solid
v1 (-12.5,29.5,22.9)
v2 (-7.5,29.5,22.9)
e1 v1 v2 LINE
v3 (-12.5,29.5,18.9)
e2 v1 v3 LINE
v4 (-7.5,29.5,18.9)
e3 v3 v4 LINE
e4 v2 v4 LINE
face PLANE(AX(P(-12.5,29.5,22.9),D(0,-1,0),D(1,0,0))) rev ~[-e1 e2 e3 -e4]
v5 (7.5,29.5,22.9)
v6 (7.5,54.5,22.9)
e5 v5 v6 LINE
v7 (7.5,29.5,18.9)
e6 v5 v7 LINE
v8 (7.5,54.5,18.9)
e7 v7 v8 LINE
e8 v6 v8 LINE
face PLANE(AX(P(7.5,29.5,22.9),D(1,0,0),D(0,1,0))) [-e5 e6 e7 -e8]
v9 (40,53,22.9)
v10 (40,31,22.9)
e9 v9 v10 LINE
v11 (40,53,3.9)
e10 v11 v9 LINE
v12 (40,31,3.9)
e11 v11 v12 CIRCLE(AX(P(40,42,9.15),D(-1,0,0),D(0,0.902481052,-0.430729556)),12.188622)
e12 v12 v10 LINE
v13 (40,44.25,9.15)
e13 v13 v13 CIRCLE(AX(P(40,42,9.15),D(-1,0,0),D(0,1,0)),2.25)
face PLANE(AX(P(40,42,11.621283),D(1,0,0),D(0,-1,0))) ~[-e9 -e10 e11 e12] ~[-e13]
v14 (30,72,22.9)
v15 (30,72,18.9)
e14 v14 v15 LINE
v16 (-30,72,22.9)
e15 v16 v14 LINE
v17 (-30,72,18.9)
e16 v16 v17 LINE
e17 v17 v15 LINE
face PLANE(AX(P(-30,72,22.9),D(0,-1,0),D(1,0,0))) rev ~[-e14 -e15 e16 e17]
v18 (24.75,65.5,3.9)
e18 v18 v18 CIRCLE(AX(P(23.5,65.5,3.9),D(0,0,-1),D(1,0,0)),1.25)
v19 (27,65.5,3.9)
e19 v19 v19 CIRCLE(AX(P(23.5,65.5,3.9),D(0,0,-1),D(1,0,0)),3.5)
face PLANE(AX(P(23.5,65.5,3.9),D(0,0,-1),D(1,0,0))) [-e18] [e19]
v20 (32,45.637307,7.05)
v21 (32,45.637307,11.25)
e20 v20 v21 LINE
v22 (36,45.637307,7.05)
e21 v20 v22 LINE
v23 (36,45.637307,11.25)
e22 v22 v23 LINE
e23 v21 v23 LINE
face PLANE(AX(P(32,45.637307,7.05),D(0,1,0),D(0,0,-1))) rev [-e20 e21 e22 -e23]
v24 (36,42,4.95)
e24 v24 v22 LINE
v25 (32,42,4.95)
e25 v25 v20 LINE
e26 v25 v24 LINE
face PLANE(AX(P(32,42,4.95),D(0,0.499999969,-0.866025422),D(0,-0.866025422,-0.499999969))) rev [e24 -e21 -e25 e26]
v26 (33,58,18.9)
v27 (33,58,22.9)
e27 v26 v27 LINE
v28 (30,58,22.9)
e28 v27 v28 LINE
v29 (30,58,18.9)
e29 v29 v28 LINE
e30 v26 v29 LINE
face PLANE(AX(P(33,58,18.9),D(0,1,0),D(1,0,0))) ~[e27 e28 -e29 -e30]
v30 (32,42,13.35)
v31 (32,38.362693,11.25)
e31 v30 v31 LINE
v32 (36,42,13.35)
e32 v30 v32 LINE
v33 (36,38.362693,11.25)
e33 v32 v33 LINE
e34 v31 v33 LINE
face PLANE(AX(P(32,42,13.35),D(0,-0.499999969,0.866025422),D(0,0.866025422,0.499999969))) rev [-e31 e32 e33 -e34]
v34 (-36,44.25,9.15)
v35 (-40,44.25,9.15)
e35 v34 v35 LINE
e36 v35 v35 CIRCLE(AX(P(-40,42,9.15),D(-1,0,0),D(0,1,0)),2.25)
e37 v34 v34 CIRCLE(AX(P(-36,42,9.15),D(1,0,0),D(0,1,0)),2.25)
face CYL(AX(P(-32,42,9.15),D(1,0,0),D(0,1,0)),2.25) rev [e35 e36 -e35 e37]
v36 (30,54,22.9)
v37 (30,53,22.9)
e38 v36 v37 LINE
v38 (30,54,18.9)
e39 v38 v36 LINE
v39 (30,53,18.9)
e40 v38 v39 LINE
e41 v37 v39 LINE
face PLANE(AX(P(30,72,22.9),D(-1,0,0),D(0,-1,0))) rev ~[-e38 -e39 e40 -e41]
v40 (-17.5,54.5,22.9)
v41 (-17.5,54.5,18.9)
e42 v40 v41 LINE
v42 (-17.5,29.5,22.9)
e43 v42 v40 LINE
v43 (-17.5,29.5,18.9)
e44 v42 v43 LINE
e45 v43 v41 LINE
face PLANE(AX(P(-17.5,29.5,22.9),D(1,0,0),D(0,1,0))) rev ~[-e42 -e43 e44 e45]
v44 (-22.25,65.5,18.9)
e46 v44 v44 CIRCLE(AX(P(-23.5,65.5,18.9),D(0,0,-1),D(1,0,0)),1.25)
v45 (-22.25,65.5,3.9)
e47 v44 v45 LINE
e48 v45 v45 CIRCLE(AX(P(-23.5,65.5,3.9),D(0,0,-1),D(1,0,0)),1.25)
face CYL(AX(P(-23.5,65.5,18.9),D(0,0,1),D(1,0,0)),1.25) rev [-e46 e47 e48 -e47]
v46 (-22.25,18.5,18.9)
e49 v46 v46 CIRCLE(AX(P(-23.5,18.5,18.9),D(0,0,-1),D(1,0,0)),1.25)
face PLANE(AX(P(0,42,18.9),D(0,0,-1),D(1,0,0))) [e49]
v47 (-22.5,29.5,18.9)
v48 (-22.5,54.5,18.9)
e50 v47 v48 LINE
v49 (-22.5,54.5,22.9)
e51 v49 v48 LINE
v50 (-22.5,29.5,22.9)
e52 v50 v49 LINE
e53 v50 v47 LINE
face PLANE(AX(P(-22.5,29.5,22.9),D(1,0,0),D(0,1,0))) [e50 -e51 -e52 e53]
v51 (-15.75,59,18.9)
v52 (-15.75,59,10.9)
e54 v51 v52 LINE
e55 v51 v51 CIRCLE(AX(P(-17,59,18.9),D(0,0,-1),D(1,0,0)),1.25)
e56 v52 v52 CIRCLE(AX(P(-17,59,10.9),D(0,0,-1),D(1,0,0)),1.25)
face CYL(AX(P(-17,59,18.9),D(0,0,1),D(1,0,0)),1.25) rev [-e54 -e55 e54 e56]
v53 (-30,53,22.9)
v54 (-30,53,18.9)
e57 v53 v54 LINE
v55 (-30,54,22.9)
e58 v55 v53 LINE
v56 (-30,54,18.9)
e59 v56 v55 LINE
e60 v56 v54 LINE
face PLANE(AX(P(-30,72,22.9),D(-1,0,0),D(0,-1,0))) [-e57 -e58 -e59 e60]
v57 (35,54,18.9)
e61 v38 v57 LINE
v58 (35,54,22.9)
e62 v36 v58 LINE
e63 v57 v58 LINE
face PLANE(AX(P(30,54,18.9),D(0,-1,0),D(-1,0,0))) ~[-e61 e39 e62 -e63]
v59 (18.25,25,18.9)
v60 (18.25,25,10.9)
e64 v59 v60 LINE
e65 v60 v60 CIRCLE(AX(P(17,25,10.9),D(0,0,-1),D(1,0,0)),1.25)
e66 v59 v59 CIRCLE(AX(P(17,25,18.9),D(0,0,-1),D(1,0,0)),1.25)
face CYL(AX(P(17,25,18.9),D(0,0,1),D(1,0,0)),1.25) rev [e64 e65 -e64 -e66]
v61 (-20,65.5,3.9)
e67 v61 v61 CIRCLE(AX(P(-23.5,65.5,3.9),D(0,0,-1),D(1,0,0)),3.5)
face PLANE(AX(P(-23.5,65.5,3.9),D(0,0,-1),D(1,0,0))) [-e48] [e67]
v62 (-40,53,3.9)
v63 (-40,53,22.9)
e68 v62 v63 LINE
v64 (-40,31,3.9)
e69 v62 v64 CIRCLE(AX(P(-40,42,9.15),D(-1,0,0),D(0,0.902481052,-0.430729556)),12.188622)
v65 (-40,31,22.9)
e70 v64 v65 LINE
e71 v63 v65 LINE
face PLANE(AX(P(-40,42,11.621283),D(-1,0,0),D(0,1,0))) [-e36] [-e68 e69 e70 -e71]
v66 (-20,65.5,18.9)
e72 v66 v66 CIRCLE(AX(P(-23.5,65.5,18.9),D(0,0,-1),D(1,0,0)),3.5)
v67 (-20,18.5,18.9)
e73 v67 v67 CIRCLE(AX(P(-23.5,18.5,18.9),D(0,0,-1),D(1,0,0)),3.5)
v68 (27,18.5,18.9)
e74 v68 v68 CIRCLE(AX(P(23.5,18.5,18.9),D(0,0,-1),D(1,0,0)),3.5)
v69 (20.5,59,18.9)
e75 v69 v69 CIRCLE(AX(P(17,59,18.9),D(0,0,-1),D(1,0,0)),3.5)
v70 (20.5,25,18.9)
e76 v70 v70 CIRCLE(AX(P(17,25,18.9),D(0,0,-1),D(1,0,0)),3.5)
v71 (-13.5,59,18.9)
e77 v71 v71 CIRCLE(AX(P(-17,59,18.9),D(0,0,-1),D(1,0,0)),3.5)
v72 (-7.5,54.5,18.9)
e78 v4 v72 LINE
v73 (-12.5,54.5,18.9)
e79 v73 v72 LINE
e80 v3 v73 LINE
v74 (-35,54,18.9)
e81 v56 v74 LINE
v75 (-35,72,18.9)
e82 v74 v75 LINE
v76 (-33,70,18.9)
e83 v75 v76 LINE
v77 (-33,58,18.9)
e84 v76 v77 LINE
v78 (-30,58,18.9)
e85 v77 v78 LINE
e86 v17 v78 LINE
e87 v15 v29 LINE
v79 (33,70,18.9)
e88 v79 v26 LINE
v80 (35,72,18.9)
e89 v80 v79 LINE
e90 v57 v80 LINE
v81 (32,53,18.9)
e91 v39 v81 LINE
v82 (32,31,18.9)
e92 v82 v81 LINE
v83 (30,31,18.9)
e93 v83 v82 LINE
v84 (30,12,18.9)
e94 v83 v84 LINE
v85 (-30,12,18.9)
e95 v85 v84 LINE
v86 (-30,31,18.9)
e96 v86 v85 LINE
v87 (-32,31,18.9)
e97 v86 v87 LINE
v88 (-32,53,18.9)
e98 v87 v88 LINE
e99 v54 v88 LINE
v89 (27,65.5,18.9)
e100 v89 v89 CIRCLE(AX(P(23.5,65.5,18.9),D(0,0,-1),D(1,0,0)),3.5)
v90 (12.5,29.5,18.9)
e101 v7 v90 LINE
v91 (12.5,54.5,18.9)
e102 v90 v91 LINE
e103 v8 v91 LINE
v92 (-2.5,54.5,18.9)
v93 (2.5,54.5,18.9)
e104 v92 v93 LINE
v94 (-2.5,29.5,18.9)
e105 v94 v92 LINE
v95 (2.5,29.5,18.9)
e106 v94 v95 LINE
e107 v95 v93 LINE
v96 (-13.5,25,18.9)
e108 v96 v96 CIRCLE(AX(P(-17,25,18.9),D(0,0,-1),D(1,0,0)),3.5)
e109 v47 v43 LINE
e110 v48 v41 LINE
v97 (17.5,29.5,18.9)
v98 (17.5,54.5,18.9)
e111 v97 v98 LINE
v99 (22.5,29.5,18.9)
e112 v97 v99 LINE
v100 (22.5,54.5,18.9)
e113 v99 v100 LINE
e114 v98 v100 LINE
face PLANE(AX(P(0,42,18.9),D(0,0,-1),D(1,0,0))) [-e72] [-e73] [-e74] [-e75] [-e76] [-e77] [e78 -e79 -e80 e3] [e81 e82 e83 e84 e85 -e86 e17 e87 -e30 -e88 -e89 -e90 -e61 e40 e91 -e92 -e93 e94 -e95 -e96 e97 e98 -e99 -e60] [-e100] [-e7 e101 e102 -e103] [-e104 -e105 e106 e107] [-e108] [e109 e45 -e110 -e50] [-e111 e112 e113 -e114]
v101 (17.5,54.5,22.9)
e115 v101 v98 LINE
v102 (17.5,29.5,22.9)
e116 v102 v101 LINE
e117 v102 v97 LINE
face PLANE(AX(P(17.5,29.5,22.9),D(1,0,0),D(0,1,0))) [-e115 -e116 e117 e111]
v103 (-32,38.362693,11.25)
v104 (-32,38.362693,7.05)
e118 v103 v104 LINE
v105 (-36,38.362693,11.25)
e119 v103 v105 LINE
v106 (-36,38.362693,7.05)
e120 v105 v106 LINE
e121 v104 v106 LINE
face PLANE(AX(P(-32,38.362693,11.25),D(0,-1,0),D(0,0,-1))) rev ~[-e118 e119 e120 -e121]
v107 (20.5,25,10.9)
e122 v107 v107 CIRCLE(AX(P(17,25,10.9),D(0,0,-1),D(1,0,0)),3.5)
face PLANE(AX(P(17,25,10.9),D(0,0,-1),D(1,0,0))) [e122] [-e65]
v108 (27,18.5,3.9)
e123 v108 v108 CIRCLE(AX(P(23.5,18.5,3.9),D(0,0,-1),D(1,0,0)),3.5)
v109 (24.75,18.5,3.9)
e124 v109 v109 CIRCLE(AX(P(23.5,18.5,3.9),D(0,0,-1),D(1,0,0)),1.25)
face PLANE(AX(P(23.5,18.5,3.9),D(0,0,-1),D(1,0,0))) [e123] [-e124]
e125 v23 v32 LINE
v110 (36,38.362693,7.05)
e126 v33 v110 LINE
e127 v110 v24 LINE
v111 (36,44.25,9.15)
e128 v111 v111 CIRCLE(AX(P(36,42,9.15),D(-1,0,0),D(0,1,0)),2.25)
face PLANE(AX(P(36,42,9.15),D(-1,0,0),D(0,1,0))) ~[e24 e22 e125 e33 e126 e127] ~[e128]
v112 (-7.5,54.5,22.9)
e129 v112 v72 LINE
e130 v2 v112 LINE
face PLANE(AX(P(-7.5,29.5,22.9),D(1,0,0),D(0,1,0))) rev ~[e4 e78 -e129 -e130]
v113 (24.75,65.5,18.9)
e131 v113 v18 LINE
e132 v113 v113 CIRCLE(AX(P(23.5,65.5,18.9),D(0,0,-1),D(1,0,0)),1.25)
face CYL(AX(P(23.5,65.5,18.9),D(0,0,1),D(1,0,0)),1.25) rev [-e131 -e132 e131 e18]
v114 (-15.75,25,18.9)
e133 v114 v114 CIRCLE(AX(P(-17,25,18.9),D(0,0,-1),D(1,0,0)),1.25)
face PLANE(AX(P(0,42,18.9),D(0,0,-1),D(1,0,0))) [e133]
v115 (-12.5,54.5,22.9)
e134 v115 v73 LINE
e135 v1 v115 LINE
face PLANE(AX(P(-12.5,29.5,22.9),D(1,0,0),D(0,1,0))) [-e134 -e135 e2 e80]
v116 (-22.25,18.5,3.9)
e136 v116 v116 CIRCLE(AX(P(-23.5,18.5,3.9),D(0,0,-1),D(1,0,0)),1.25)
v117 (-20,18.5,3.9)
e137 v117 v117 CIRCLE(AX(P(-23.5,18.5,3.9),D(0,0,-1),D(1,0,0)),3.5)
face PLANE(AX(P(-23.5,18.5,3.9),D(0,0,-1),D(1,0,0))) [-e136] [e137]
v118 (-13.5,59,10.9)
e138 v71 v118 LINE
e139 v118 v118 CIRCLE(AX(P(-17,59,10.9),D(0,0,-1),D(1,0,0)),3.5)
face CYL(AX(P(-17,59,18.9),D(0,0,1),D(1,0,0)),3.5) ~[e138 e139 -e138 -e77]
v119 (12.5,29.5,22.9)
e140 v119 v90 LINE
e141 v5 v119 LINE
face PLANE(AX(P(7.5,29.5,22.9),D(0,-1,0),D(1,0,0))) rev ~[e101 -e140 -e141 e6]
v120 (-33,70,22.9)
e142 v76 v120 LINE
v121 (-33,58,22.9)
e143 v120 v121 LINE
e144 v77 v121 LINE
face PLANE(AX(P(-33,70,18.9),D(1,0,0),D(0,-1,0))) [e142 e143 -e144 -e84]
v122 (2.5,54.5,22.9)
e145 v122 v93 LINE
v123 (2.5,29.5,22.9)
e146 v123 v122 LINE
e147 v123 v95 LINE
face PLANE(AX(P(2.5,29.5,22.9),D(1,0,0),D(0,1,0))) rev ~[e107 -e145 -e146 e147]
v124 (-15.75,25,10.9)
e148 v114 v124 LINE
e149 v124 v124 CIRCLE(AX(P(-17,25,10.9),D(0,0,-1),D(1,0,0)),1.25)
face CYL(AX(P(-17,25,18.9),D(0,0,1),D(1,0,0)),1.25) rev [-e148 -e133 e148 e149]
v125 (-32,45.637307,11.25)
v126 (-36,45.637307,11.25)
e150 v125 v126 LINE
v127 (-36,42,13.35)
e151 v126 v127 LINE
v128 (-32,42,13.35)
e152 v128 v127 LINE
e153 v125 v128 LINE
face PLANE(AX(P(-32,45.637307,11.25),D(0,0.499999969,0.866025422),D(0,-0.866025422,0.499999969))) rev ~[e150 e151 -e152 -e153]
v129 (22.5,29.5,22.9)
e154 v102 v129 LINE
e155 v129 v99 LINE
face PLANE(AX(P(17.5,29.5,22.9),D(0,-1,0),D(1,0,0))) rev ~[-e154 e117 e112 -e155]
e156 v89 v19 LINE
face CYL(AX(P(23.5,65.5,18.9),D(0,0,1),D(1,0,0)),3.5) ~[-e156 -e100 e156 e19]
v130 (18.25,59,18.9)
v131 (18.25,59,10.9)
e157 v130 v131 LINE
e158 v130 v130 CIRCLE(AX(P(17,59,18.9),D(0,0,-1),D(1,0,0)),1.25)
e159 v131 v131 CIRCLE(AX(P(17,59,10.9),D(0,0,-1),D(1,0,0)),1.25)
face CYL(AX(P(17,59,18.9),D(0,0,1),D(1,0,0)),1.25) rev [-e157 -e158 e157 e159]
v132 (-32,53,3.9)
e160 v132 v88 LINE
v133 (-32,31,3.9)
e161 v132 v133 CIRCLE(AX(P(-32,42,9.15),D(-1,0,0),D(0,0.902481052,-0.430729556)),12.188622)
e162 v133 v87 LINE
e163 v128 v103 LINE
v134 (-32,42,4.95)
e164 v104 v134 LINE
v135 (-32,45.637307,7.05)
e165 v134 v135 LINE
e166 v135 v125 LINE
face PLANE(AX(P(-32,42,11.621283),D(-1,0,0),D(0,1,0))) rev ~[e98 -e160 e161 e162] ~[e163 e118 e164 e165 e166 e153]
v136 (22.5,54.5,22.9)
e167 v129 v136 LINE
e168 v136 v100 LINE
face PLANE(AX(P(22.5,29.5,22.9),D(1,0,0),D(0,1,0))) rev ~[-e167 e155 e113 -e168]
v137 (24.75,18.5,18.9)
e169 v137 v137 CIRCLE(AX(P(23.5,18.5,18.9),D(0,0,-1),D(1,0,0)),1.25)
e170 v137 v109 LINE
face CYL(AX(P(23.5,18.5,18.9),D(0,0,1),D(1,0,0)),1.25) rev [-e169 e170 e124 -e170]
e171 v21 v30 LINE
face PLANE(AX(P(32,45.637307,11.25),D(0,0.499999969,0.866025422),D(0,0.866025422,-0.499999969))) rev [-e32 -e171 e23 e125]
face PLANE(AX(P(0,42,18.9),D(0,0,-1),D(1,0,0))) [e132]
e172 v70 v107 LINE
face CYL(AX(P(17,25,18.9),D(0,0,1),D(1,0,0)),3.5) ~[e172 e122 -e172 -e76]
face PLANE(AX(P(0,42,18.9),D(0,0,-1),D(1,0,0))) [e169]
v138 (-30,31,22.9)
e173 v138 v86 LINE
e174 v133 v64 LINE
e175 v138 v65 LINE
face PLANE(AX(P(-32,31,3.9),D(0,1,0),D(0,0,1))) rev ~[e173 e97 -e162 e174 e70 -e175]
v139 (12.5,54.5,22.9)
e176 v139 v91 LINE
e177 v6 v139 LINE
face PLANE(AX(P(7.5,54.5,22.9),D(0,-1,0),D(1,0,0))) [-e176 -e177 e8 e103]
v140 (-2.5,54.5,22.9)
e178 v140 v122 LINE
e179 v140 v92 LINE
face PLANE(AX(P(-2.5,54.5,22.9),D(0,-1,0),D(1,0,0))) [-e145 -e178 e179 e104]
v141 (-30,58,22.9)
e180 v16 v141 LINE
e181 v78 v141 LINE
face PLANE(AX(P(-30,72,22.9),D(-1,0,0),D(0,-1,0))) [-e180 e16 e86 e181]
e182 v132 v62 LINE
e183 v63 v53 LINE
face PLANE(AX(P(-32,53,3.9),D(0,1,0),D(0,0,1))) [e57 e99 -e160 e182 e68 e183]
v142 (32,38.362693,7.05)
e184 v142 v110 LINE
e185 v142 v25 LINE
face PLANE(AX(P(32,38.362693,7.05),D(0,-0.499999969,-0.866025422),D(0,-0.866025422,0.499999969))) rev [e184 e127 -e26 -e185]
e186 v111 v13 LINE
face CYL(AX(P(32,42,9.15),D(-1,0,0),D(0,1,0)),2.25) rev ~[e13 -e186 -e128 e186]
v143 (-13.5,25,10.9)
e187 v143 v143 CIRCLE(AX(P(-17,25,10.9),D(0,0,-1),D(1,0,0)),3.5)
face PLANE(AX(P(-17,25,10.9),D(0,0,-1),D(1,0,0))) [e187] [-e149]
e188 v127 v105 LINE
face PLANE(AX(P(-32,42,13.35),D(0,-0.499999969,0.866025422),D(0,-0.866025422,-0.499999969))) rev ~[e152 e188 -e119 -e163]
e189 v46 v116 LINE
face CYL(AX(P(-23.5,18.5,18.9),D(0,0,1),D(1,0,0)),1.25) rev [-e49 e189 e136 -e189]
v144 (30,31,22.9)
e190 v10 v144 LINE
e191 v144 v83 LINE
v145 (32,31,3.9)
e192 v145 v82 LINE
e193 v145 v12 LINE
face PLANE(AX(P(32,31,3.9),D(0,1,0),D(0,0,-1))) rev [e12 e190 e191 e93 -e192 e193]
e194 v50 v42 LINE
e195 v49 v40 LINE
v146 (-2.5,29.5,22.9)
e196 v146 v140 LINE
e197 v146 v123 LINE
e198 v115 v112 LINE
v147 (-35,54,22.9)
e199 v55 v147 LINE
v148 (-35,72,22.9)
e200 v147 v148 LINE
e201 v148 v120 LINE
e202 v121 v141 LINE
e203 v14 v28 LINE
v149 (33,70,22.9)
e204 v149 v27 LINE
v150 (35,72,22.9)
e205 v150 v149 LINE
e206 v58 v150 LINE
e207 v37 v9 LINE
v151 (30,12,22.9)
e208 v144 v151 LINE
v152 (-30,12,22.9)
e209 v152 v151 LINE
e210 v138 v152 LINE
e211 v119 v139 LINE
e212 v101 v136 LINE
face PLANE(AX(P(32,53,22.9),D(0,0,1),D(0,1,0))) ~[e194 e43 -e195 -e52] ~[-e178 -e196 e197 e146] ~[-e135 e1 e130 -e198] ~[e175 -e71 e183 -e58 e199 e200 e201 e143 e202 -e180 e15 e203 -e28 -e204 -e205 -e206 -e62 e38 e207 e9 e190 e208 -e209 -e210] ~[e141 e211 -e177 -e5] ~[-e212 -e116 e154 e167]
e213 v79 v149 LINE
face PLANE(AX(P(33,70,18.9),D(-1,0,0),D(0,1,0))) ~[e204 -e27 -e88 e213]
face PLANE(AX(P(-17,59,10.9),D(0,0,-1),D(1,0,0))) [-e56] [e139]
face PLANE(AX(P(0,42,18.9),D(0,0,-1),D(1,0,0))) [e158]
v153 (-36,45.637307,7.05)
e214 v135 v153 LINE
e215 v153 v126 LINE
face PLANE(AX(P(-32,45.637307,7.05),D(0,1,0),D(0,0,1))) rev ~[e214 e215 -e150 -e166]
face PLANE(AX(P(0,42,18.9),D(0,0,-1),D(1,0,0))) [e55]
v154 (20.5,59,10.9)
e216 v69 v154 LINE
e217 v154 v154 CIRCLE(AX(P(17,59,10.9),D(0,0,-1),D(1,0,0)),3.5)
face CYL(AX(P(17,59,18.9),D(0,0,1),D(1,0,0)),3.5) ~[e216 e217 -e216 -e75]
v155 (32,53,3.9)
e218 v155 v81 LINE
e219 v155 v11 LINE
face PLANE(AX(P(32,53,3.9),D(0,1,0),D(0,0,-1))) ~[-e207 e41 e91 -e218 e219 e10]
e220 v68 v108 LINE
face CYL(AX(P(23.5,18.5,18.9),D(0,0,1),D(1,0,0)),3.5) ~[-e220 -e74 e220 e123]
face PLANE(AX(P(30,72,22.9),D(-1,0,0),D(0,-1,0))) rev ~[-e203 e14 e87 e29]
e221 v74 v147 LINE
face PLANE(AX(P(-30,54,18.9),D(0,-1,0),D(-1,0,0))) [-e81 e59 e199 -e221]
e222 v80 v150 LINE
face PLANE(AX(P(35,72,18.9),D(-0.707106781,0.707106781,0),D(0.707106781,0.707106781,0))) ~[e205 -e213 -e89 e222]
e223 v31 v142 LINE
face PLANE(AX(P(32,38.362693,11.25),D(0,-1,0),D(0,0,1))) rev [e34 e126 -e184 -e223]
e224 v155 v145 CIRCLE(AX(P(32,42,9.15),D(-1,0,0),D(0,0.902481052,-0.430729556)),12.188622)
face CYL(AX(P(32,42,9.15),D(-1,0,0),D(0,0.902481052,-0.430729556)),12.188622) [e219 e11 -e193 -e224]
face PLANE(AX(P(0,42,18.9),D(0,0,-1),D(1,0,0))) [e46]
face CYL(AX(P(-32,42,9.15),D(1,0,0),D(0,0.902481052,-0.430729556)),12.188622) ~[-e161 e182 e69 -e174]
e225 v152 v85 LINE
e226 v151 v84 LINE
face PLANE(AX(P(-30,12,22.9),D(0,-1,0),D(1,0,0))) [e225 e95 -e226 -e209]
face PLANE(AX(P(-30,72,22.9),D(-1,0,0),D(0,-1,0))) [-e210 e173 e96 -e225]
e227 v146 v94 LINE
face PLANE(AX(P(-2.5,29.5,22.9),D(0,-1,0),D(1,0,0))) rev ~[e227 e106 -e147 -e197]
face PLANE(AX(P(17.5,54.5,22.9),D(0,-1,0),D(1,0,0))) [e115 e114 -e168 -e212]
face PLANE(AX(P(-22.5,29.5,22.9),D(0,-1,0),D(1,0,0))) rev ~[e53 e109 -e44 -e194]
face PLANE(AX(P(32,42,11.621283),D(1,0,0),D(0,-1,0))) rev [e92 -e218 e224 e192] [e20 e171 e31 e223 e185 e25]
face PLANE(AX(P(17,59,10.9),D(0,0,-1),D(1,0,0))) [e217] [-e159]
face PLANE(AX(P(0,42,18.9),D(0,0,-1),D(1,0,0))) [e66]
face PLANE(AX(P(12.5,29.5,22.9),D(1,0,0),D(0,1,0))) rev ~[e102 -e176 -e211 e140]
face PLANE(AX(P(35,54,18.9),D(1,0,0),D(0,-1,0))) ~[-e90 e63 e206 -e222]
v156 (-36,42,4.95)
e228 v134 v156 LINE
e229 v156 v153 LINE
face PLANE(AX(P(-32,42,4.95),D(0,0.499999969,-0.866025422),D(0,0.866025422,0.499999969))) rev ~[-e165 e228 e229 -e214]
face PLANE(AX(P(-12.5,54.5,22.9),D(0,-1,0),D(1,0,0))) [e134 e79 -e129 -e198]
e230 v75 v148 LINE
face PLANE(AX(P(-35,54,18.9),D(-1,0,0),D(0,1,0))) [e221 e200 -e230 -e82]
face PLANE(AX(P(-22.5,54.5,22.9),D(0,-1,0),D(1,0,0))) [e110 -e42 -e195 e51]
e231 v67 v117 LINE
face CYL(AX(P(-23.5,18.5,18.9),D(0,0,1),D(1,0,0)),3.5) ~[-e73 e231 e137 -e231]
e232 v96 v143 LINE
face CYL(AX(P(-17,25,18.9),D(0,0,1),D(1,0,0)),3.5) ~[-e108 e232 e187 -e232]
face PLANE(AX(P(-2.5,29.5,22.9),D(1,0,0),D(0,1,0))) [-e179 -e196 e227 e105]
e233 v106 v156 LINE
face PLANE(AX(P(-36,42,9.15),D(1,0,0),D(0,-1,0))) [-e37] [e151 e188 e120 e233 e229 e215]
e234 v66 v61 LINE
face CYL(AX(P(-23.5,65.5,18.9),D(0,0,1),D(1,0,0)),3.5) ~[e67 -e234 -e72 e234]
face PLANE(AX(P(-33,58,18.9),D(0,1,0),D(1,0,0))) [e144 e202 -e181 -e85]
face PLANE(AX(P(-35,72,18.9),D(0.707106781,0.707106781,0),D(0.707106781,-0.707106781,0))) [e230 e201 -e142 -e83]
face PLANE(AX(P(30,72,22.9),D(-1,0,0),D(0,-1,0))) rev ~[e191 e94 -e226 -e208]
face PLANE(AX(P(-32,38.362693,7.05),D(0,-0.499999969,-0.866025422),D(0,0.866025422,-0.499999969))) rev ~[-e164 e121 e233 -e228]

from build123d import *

# Parameters (mm, degrees)
SKETCH_W             = 60
SKETCH_H             = 60
PAD_DEPTH            = 4
SKETCH001_R          = 3.5
SKETCH001_R_2        = 1.25
PAD001_DEPTH         = 8
SKETCH009_W          = 5
SKETCH009_H          = 25
POCKET008_DEPTH      = 4
PAD006_DEPTH         = 4
SKETCH015_W          = 22
SKETCH015_H          = 4
PAD007_DEPTH         = 2
SKETCH003_R          = 2.25
PAD008_DEPTH         = 8
SKETCH014_R          = 3.5
SKETCH014_R_2        = 1.25
PAD009_DEPTH         = 15
POCKET_DEPTH         = 4
BODY_PLACEMENT_ANGLE = 180


with BuildPart() as part:
    # Sketch → Pad (new body)
    with BuildSketch(Plane.XY):
        Rectangle(SKETCH_W, SKETCH_H)
    extrude(amount=PAD_DEPTH)

    # Sketch001 (on Face6 of Pad) → Pad001 (join)
    with BuildSketch(Plane.XY.offset(4)):
        with Locations((-17, 17)):
            Circle(SKETCH001_R)
        with Locations((-17, 17)):
            Circle(SKETCH001_R_2, mode=Mode.SUBTRACT)
        with Locations((-17, -17)):
            Circle(SKETCH001_R)
        with Locations((-17, -17)):
            Circle(SKETCH001_R_2, mode=Mode.SUBTRACT)
        with Locations((17, -17)):
            Circle(SKETCH001_R)
        with Locations((17, -17)):
            Circle(SKETCH001_R_2, mode=Mode.SUBTRACT)
        with Locations((17, 17)):
            Circle(SKETCH001_R)
        with Locations((17, 17)):
            Circle(SKETCH001_R_2, mode=Mode.SUBTRACT)
    extrude(amount=PAD001_DEPTH)

    # Sketch009 → Pocket008 (cut)
    with BuildSketch(Plane(origin=(0, 0, 0), x_dir=(1, 0, 0), z_dir=(0, 0, -1))):
        Rectangle(SKETCH009_W, SKETCH009_H)
        with Locations((10, 0)):
            Rectangle(SKETCH009_W, SKETCH009_H)
        with Locations((20, 0)):
            Rectangle(SKETCH009_W, SKETCH009_H)
        with Locations((-10, 0)):
            Rectangle(SKETCH009_W, SKETCH009_H)
        with Locations((-20, 0)):
            Rectangle(SKETCH009_W, SKETCH009_H)
    extrude(amount=-POCKET008_DEPTH, mode=Mode.SUBTRACT)

    # Sketch012 (on Face5 of Pocket008) → Pad006 (join)
    with BuildSketch(Plane.XY.offset(4)):
        Polygon((-30, -12), (-35, -12), (-35, -30), (-33, -28), (-33, -16), (-30, -16), align=None)
    pad006 = extrude(amount=-PAD006_DEPTH)

    # Mirrored005: Pad006 across Sketch012 V_Axis
    add(pad006.mirror(Plane(origin=(0, 0, 4), x_dir=(0, 0, 1), z_dir=(1, 0, 0))))

    # Sketch015 (on Face4 of Pad) → Pad007 (join)
    with BuildSketch(Plane(origin=(-30, 0, 0), x_dir=(0, -1, 0), z_dir=(-1, 0, 0))):
        with Locations((0, 2)):
            Rectangle(SKETCH015_W, SKETCH015_H)
    pad007 = extrude(amount=PAD007_DEPTH)

    # Sketch003 (on Face42 of Pad007) → Pad008 (join)
    with BuildSketch(Plane(origin=(-32, 0, 0), x_dir=(0, -1, 0), z_dir=(-1, 0, 0))):
        with BuildLine():
            ThreePointArc((11, 19), (0, 25.938622), (-11, 19))
            Line((-11, 19), (-11, 0))
            Line((11, 0), (-11, 0))
            Line((11, 19), (11, 0))
        make_face()
        with Locations((0, 13.75)):
            Circle(SKETCH003_R, mode=Mode.SUBTRACT)
    pad008 = extrude(amount=PAD008_DEPTH)

    # Sketch014 → Pad009 (join)
    with BuildSketch(Plane.XY.offset(4)):
        with Locations((-23.5, 23.5)):
            Circle(SKETCH014_R)
        with Locations((-23.5, 23.5)):
            Circle(SKETCH014_R_2, mode=Mode.SUBTRACT)
        with Locations((23.5, 23.5)):
            Circle(SKETCH014_R)
        with Locations((23.5, 23.5)):
            Circle(SKETCH014_R_2, mode=Mode.SUBTRACT)
        with Locations((23.5, -23.5)):
            Circle(SKETCH014_R)
        with Locations((23.5, -23.5)):
            Circle(SKETCH014_R_2, mode=Mode.SUBTRACT)
        with Locations((-23.5, -23.5)):
            Circle(SKETCH014_R)
        with Locations((-23.5, -23.5)):
            Circle(SKETCH014_R_2, mode=Mode.SUBTRACT)
    extrude(amount=PAD009_DEPTH)

    # Sketch016 (on Face58 of Pad009) → Pocket (cut)
    with BuildSketch(Plane.YZ.offset(-32)):
        Polygon((-3.637307, 15.85), (-3.637307, 11.65), (0, 9.55), (3.637307, 11.65), (3.637307, 15.85), (0, 17.95), align=None)
    pocket = extrude(amount=-POCKET_DEPTH, mode=Mode.SUBTRACT)

    # Mirrored: Pad007, Pad008 across YZ
    add(pad007.mirror(Plane.YZ))
    add(pad008.mirror(Plane.YZ))

    # Mirrored006: Pocket across YZ
    add(pocket.mirror(Plane.YZ), mode=Mode.SUBTRACT)


with BuildPart() as part_1:
    # Body placement: moved
    add(part.part.moved(Location((0, 42, 22.9))).rotate(Axis((0, 42, 22.9), (1, 0, 0)), BODY_PLACEMENT_ANGLE))


solid = part_1.part
